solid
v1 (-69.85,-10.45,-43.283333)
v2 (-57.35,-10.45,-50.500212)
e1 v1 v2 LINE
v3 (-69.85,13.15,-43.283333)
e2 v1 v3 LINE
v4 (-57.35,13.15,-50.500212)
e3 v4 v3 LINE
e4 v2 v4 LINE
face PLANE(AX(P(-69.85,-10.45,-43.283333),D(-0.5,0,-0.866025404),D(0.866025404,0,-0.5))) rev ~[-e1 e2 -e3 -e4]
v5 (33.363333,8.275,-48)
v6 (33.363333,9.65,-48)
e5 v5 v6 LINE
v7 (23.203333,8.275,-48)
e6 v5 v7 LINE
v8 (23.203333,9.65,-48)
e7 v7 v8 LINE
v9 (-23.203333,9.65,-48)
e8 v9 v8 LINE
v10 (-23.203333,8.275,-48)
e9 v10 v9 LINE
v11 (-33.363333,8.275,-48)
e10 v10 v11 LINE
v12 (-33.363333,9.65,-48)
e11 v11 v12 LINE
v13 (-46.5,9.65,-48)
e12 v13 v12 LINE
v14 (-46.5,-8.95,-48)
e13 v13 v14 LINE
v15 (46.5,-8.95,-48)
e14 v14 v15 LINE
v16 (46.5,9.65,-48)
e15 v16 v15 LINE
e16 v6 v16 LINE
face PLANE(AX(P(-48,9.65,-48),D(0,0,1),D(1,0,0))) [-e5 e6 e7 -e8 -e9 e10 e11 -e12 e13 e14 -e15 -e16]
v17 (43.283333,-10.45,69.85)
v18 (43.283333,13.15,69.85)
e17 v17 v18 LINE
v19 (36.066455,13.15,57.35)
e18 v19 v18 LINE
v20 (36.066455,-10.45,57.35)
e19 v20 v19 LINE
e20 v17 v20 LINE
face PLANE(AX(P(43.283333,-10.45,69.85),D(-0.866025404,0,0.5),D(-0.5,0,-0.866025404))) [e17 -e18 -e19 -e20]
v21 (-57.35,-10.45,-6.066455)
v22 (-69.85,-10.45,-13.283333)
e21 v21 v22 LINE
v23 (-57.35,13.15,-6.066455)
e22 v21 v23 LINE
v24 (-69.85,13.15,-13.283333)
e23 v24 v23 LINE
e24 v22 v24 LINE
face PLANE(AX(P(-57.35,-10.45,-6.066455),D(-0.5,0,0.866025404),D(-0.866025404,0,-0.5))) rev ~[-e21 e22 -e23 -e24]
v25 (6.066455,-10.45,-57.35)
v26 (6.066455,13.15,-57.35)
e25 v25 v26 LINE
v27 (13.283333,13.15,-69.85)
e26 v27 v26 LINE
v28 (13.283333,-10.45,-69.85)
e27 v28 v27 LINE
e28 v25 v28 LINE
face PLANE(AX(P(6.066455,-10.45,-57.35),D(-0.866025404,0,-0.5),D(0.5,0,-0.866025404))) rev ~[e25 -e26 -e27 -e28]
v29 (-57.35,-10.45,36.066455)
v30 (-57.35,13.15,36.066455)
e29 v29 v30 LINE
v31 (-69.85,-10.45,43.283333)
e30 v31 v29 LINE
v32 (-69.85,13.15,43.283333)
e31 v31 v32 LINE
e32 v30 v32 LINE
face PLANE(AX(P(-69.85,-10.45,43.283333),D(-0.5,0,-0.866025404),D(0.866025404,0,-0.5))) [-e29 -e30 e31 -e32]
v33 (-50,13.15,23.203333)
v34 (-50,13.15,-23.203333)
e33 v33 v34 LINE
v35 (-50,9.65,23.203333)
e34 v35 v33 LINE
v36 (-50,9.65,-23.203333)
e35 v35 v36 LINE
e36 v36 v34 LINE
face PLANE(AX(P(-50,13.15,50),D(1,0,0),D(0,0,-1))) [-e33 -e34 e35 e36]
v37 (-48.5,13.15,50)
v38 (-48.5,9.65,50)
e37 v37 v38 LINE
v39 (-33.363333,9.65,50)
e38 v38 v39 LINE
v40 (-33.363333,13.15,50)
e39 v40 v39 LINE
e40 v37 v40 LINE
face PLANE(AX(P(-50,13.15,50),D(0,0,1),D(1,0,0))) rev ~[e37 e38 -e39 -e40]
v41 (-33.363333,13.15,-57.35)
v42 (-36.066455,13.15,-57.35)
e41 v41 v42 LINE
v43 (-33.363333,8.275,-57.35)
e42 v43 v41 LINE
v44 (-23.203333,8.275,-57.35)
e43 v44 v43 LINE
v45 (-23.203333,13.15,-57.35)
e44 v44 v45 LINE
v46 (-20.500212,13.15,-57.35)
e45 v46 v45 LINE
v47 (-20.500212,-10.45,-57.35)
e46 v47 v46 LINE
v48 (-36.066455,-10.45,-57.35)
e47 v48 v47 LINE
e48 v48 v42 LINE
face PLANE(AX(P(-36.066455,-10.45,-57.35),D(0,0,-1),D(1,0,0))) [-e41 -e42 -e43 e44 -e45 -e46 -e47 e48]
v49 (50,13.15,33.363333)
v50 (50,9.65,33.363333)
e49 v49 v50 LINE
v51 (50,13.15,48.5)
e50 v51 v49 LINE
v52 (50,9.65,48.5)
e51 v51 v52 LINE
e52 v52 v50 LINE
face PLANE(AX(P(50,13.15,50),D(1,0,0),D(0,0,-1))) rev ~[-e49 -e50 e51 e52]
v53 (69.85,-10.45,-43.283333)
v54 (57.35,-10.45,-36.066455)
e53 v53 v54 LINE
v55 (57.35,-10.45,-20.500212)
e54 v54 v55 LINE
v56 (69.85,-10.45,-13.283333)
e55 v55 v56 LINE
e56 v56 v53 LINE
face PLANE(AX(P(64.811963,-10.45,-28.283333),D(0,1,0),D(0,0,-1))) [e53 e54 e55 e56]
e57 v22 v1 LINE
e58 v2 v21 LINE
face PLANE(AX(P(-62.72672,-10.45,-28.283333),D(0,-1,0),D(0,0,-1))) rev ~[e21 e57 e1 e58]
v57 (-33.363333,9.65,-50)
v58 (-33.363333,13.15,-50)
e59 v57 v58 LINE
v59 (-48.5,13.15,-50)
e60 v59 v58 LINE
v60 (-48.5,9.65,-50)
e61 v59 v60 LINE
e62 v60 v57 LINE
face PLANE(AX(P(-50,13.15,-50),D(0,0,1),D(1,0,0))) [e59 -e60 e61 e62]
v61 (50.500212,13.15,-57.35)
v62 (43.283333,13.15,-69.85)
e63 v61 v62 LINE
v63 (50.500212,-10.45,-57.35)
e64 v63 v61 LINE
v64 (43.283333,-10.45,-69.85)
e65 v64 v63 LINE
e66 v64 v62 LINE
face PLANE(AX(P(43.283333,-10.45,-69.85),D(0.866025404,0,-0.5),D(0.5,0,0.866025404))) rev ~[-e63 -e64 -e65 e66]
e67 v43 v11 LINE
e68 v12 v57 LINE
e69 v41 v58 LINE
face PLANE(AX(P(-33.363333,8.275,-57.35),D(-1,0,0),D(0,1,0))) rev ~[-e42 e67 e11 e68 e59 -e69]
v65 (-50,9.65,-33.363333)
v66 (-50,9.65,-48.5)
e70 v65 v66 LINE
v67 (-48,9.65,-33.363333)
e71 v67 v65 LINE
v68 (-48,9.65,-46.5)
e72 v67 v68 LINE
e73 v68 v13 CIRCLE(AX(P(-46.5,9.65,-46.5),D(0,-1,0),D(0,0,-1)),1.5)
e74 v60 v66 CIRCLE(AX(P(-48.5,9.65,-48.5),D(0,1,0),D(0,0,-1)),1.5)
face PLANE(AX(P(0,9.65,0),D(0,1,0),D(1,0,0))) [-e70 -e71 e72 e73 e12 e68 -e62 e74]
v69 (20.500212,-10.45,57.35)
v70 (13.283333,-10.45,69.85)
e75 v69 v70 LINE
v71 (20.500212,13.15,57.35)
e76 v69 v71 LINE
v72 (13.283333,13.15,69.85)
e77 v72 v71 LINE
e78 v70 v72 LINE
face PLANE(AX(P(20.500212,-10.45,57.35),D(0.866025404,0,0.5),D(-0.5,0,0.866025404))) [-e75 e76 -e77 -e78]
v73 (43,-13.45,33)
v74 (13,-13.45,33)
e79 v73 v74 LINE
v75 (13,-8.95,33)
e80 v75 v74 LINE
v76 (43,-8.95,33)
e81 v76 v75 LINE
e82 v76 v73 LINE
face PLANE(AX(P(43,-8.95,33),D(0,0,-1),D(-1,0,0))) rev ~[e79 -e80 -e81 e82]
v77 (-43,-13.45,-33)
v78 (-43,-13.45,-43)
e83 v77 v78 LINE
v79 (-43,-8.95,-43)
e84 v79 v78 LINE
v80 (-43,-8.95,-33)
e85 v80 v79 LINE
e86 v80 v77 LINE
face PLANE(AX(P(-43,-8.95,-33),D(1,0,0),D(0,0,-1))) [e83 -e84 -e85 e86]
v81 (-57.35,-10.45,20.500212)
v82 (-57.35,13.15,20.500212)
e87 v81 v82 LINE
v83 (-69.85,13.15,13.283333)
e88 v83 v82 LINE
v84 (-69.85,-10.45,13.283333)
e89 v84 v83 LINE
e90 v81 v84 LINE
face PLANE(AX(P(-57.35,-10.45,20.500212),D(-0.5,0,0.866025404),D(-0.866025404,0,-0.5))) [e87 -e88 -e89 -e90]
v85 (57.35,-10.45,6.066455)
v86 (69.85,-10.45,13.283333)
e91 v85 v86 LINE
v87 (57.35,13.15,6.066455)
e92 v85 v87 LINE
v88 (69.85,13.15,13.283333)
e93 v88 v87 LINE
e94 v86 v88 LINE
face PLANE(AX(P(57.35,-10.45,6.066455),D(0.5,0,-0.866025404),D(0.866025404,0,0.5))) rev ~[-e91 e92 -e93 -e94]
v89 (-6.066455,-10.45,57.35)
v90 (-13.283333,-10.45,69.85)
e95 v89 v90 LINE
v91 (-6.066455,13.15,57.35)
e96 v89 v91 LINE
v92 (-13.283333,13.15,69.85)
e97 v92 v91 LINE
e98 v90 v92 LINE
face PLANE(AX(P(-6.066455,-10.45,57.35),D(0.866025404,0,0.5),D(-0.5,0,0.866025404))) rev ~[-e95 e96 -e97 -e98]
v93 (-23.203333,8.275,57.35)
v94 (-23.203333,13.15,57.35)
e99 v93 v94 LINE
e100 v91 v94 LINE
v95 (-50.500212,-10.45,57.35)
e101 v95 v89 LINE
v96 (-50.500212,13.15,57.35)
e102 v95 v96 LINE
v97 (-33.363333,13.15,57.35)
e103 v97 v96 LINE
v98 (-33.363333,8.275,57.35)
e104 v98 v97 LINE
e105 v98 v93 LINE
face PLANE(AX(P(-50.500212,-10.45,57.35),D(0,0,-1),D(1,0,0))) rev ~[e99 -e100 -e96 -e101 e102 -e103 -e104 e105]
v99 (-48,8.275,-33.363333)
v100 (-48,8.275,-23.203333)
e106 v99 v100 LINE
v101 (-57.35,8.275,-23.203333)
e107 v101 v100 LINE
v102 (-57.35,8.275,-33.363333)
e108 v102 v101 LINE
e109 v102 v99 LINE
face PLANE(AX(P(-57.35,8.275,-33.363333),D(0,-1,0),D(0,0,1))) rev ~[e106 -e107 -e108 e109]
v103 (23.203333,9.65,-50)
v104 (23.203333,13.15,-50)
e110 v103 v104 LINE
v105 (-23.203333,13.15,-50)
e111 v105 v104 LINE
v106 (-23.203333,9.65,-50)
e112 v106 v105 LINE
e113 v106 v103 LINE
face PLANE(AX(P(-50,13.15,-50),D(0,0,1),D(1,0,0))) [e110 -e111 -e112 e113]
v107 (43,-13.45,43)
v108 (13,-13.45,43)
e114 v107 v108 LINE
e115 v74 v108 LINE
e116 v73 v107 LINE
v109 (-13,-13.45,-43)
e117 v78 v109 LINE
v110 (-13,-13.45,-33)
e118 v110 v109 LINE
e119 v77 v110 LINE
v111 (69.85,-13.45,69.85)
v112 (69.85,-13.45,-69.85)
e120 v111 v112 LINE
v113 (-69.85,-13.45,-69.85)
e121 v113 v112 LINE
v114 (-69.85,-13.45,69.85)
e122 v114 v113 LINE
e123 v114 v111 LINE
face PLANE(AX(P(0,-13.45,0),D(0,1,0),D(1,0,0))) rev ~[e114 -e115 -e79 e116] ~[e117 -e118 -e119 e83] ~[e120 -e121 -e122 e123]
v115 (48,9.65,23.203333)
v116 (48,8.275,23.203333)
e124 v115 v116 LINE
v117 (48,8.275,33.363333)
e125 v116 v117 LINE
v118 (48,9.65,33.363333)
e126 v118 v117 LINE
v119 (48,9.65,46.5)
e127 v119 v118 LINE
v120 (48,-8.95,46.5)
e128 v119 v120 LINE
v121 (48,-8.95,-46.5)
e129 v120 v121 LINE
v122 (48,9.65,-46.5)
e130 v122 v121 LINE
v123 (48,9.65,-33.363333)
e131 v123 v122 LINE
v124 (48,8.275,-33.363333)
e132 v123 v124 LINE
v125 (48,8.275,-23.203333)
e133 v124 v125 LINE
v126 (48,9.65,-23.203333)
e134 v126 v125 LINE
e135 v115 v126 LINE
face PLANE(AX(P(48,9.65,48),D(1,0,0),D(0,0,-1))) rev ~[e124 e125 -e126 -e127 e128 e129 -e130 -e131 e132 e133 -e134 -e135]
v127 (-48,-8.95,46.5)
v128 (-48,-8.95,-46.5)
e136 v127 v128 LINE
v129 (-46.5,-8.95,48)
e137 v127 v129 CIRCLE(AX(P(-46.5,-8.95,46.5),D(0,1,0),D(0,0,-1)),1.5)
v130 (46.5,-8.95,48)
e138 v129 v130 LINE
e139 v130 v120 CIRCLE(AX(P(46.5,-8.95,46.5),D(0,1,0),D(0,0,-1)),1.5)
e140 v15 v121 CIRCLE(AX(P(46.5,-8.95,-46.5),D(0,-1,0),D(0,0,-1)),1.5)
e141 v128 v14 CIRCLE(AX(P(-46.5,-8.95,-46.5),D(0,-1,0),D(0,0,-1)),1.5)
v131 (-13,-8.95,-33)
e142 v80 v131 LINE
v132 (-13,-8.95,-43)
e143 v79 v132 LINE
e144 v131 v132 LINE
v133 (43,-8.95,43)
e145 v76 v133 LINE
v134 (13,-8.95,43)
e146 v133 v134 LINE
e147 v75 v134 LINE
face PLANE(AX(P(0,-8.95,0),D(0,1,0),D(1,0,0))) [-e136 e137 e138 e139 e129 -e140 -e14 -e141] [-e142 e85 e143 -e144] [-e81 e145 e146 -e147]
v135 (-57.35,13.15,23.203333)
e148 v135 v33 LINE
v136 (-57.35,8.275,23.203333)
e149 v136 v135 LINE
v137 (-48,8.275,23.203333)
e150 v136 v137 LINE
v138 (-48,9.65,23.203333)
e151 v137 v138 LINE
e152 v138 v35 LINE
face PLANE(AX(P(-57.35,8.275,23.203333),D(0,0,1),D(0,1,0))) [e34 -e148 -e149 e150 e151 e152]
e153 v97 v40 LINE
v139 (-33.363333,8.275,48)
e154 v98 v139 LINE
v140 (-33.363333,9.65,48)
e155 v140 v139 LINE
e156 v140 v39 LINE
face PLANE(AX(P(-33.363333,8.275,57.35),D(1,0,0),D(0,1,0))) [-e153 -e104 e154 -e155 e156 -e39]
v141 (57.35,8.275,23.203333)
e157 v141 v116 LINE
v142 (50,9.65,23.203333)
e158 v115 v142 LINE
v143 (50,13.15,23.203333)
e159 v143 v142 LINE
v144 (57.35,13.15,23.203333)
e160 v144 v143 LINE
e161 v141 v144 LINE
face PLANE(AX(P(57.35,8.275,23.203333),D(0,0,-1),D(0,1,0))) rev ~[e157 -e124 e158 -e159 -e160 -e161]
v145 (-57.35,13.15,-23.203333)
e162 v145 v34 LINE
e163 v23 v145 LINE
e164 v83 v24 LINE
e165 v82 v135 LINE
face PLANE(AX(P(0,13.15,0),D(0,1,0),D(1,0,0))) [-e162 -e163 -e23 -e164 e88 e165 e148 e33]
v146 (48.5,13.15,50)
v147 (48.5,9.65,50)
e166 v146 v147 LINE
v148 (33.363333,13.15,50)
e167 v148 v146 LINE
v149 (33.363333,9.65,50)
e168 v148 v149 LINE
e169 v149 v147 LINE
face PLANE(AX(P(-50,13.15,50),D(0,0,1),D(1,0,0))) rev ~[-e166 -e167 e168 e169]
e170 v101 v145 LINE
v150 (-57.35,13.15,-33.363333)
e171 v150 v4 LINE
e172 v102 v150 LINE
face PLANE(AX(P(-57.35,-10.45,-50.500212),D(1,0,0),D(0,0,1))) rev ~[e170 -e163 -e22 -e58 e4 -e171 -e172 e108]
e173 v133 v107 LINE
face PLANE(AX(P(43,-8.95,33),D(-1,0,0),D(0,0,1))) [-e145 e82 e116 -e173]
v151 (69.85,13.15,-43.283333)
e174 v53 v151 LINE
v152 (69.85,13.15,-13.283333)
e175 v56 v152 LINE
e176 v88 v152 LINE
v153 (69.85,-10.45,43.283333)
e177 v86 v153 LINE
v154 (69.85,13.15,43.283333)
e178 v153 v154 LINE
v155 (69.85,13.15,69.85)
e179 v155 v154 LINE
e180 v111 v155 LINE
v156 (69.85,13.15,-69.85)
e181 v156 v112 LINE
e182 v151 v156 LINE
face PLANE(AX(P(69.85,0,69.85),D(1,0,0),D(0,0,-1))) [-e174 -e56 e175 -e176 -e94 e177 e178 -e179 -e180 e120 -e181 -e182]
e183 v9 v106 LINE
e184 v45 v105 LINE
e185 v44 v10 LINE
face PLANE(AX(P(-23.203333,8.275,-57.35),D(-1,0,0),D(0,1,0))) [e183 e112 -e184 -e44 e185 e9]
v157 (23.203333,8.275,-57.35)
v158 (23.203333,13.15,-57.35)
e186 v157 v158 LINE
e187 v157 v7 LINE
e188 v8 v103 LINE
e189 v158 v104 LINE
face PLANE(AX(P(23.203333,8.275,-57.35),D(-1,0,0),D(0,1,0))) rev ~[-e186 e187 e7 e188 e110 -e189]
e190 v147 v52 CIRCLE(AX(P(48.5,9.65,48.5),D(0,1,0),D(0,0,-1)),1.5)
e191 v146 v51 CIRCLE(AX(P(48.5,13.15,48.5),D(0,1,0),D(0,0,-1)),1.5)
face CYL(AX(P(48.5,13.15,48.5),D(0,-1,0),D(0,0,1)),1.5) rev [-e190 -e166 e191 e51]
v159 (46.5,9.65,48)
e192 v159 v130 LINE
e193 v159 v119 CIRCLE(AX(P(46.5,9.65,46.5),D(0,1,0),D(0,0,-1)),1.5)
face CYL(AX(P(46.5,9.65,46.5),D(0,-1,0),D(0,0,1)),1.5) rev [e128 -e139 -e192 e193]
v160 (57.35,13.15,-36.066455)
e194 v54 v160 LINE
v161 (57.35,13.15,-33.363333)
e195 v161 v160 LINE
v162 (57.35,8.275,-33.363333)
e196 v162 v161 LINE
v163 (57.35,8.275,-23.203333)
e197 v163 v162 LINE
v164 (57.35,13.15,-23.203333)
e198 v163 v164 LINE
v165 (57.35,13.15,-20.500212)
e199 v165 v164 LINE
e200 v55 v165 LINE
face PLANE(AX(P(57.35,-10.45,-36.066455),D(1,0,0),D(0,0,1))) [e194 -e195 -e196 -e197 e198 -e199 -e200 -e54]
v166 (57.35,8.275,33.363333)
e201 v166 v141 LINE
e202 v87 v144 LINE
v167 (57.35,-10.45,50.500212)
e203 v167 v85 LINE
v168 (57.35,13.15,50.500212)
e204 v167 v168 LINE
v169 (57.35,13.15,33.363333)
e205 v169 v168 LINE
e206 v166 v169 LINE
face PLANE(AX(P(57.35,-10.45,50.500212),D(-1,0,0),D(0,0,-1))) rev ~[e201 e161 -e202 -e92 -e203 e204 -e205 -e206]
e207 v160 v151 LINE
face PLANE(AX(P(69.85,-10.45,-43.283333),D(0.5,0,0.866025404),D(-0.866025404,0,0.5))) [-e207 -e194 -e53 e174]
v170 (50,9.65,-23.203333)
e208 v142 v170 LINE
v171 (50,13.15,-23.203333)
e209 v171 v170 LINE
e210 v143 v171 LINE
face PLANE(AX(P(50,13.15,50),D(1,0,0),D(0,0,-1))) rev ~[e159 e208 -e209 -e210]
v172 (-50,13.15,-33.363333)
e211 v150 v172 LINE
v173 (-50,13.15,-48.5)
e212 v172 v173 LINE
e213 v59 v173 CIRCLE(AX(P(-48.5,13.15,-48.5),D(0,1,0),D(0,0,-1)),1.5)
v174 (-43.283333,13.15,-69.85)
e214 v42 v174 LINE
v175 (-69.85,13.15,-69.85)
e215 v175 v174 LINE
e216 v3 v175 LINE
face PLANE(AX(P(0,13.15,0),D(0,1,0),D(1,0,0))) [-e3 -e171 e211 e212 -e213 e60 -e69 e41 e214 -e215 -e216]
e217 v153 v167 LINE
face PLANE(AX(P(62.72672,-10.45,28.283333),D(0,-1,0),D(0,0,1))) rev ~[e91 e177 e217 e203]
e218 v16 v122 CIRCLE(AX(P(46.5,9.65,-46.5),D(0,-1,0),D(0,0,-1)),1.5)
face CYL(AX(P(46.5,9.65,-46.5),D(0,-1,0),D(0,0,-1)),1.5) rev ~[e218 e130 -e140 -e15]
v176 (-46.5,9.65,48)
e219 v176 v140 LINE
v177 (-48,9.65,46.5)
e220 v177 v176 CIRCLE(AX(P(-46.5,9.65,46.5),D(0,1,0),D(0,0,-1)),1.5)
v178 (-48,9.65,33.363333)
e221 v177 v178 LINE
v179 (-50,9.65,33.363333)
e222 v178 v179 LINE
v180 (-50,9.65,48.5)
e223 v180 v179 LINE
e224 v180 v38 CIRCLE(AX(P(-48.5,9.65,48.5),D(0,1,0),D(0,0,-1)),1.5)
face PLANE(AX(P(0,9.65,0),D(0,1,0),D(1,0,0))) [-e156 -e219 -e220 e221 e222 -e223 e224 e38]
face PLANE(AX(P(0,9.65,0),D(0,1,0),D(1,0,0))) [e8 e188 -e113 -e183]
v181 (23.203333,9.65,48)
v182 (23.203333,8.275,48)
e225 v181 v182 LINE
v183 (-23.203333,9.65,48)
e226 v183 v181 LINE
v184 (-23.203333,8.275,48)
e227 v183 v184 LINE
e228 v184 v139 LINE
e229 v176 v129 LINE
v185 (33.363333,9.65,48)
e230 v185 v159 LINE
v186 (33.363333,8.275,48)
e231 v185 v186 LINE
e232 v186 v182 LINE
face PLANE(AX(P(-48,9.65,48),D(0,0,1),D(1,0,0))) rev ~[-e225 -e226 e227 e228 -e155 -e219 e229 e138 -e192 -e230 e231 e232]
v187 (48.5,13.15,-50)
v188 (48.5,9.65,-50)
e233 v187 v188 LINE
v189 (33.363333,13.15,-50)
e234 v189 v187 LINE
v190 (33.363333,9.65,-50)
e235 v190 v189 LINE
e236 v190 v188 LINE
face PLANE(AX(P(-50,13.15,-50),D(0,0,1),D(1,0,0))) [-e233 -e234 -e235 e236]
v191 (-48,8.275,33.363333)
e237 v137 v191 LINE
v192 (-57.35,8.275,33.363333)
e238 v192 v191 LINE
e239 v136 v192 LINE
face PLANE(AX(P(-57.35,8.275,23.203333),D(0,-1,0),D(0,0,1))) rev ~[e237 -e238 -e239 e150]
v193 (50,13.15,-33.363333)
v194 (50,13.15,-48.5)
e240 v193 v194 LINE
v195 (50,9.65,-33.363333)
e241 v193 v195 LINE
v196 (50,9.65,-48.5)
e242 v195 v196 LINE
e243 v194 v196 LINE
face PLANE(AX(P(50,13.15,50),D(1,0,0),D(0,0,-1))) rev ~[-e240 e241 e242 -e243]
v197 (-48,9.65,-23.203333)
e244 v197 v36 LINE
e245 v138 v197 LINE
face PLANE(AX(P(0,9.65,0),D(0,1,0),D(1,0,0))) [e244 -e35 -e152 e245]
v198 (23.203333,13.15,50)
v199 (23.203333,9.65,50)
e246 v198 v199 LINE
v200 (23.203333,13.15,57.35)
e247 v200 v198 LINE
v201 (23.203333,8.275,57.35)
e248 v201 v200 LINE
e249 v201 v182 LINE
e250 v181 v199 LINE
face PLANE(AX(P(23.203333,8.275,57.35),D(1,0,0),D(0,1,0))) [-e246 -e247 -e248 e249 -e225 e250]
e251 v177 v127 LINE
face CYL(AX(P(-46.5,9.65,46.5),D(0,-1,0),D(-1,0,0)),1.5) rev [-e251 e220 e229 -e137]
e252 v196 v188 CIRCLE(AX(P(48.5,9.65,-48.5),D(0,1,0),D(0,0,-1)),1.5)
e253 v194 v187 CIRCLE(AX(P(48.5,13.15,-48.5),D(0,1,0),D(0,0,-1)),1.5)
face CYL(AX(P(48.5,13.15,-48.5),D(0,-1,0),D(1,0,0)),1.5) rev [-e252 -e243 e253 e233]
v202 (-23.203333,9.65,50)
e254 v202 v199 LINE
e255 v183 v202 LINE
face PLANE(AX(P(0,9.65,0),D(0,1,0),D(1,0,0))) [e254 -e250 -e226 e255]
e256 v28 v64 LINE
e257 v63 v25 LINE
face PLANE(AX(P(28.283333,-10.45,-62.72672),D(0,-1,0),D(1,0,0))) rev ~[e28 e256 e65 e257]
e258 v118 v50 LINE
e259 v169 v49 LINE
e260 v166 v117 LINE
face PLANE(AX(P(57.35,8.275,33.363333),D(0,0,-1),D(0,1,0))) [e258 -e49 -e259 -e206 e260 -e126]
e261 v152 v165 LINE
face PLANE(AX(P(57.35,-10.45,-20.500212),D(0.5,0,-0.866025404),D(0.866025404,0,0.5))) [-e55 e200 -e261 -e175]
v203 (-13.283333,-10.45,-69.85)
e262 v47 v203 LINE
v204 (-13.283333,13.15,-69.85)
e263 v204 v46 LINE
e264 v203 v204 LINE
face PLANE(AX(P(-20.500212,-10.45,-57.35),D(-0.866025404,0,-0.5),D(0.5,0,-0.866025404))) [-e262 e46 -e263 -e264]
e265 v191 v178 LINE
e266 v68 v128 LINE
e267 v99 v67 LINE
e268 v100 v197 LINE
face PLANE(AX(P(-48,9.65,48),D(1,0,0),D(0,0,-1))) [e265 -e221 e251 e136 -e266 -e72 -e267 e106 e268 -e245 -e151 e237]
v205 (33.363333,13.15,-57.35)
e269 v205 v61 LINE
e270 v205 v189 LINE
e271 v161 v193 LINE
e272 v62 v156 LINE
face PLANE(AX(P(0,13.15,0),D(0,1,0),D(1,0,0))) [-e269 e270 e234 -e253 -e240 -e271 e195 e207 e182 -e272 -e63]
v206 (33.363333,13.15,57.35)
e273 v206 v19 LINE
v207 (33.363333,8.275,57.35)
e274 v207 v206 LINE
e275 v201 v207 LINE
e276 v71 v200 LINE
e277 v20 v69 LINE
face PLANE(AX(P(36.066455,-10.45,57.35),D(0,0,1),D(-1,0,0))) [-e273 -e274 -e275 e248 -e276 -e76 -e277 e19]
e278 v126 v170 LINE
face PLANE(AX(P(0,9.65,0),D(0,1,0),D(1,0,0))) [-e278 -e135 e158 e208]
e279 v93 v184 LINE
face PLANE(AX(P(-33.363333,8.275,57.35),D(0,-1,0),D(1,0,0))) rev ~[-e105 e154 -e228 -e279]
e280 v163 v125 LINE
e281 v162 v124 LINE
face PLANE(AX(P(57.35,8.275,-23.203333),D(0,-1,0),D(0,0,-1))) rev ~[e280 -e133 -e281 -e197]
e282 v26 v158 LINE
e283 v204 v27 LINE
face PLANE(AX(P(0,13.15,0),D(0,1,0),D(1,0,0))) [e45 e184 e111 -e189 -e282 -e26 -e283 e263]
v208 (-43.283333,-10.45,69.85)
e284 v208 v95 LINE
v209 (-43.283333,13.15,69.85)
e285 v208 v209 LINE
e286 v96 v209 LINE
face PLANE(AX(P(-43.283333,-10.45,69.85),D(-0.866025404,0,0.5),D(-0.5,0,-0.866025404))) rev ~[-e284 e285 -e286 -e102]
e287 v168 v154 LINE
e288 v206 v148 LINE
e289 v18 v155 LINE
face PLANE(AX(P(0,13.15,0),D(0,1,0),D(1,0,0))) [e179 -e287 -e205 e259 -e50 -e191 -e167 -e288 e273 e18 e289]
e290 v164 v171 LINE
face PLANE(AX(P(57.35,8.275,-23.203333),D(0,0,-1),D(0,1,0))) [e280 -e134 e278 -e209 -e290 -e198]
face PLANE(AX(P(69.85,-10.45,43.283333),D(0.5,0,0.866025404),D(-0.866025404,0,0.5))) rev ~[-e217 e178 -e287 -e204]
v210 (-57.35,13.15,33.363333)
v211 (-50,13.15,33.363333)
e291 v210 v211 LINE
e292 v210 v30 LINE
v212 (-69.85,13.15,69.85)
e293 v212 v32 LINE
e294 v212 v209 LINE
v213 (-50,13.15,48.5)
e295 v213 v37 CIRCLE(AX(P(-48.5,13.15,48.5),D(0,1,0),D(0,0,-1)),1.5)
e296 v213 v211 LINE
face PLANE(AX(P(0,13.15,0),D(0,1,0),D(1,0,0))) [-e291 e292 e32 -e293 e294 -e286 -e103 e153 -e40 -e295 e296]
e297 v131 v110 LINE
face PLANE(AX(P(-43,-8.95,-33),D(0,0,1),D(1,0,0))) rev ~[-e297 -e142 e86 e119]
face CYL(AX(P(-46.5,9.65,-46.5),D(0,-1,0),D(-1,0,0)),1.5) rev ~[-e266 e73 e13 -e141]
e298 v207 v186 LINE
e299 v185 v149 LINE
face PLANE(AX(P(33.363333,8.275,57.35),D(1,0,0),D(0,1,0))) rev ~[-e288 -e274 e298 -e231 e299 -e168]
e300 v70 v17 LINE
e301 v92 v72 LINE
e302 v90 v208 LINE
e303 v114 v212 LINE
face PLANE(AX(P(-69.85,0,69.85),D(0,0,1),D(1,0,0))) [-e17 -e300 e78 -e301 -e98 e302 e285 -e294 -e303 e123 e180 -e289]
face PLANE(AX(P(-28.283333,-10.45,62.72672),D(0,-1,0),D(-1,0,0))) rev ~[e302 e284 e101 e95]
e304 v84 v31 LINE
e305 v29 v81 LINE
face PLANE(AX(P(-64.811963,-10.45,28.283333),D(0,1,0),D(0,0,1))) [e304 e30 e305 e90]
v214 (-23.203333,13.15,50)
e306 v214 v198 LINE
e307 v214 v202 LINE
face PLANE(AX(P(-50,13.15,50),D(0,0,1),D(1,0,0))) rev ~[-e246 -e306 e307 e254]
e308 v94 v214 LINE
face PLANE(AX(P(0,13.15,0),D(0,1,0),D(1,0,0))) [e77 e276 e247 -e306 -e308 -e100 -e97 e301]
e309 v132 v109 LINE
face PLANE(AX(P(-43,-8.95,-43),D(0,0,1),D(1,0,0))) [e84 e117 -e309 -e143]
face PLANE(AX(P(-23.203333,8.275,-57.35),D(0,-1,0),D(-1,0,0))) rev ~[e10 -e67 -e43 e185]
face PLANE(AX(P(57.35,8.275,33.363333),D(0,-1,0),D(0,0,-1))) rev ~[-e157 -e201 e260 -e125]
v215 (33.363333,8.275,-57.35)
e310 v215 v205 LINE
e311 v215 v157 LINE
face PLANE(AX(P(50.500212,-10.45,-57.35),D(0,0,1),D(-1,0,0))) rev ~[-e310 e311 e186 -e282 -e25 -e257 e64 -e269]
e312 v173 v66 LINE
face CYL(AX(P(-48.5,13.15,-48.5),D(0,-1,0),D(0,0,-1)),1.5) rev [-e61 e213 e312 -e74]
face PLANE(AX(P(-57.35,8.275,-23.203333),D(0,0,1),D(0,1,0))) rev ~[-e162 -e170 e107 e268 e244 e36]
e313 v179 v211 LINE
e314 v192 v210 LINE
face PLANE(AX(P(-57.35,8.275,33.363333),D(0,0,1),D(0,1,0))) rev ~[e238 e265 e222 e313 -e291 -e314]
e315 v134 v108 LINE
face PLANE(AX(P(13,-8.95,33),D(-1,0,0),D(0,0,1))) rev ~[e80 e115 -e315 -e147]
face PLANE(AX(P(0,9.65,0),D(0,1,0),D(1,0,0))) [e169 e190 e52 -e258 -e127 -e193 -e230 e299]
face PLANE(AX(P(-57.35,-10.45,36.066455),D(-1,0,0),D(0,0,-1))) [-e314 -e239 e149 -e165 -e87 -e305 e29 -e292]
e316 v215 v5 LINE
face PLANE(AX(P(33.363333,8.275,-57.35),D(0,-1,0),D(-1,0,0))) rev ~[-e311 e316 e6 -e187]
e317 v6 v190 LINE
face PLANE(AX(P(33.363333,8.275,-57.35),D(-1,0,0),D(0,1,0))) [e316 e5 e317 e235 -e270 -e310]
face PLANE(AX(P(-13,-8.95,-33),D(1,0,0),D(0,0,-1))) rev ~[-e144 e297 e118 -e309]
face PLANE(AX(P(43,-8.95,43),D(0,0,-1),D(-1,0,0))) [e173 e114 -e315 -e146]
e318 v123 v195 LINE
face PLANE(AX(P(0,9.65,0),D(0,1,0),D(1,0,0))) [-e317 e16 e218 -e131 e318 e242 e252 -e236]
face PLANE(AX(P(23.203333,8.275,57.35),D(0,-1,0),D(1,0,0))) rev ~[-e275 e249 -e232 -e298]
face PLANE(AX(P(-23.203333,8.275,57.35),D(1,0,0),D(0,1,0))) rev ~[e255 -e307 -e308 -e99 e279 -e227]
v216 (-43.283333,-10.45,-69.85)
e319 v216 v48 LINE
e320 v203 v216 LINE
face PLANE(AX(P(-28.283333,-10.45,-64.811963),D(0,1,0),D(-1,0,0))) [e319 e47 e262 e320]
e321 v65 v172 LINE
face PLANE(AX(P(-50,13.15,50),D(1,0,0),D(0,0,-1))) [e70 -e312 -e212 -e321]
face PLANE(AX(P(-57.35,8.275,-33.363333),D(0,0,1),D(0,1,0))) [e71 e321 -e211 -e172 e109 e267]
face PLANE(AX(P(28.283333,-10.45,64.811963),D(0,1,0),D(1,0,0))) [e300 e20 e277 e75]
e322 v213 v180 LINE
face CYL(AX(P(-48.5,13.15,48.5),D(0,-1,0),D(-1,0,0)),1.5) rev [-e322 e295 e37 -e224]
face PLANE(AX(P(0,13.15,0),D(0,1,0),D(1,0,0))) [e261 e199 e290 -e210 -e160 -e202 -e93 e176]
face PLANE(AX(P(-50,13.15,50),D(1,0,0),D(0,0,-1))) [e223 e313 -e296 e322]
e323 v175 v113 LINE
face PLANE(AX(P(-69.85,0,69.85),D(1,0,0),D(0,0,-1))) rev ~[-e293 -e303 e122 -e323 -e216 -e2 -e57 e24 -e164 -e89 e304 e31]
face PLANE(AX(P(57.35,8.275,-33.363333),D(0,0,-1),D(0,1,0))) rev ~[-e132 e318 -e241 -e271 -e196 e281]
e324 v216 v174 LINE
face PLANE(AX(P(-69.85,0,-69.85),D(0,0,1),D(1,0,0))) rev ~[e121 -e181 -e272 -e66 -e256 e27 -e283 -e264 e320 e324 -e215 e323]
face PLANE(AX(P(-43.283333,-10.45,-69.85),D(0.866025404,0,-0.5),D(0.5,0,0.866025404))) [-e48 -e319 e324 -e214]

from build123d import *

# Parameters (mm, degrees)
SKETCH1_W           = 139.7
SKETCH1_H           = 139.7
BOSS_EXTRUDE1_DEPTH = 13.45
SKETCH2_W           = 139.7
SKETCH2_H           = 139.7
CUT_EXTRUDE1_DEPTH  = 0.3
CUT_EXTRUDE2_START  = -23.6
CUT_EXTRUDE2_DEPTH  = 126.901539578
SKETCH18_W          = 10.16
SKETCH18_H          = 4.875
CUT_EXTRUDE6_DEPTH  = 20
CIRPATTERN1_COUNT   = 4
SKETCH19_W          = 100
SKETCH19_H          = 100
CUT_EXTRUDE8_DEPTH  = 3.5
SKETCH20_W          = 96
SKETCH20_H          = 96
CUT_EXTRUDE9_DEPTH  = 18.6
SKETCH21_W          = 30
SKETCH21_H          = 10
CUT_EXTRUDE10_DEPTH = 102.224774635
FILLET2_R           = 1.5
CIRPATTERN2_COUNT   = 2


with BuildPart() as part:
    # Sketch1 → Boss-Extrude1 (new, symmetric)
    with BuildSketch(Plane(origin=(0, 0, 0), x_dir=(1, 0, 0), z_dir=(0, 1, 0))):
        Rectangle(SKETCH1_W, SKETCH1_H)
    extrude(amount=BOSS_EXTRUDE1_DEPTH, both=True)

    # Sketch2 → Cut-Extrude1 (cut)
    with BuildSketch(Plane(origin=(0, 13.45, 0), x_dir=(1, 0, 0), z_dir=(0, 1, 0))):
        Rectangle(SKETCH2_W, SKETCH2_H)
    extrude(amount=-CUT_EXTRUDE1_DEPTH, mode=Mode.SUBTRACT)

    # Sketch4 → Cut-Extrude2 (cut)
    with BuildSketch(Plane(origin=(0, 13.15, 0), x_dir=(1, 0, 0), z_dir=(0, 1, 0)).offset(CUT_EXTRUDE2_START)):
        Polygon((-43.283333333, -69.85), (-50.500211698, -57.35), (-6.066454968, -57.35), (-13.283333333, -69.85), align=None)
        Polygon((43.283333333, -69.85), (36.066454968, -57.35), (20.500211698, -57.35), (13.283333333, -69.85), align=None)
    cut_extrude2 = extrude(amount=CUT_EXTRUDE2_DEPTH, mode=Mode.SUBTRACT)

    # Sketch18 → Cut-Extrude6 (cut)
    with BuildSketch(Plane.XY.offset(57.35)):
        with Locations((28.283333333, 10.7125)):
            Rectangle(SKETCH18_W, SKETCH18_H)
        with Locations((-28.283333333, 10.7125)):
            Rectangle(SKETCH18_W, SKETCH18_H)
    cut_extrude6 = extrude(amount=-CUT_EXTRUDE6_DEPTH, mode=Mode.SUBTRACT)

    # CirPattern1: Cut-Extrude2, Cut-Extrude6 ×4 about axis
    cirpattern1_axis = Axis((0, 0, 0), (0, 1, 0))
    add([cut_extrude2.rotate(cirpattern1_axis, i * 360 / CIRPATTERN1_COUNT) for i in range(1, CIRPATTERN1_COUNT)], mode=Mode.SUBTRACT)
    add([cut_extrude6.rotate(cirpattern1_axis, i * 360 / CIRPATTERN1_COUNT) for i in range(1, CIRPATTERN1_COUNT)], mode=Mode.SUBTRACT)

    # Sketch19 → Cut-Extrude8 (cut)
    with BuildSketch(Plane(origin=(0, 13.15, 0), x_dir=(1, 0, 0), z_dir=(0, 1, 0))):
        Rectangle(SKETCH19_W, SKETCH19_H)
    extrude(amount=-CUT_EXTRUDE8_DEPTH, mode=Mode.SUBTRACT)

    # Sketch20 → Cut-Extrude9 (cut)
    with BuildSketch(Plane(origin=(0, 9.65, 0), x_dir=(1, 0, 0), z_dir=(0, 1, 0))):
        Rectangle(SKETCH20_W, SKETCH20_H)
    extrude(amount=-CUT_EXTRUDE9_DEPTH, mode=Mode.SUBTRACT)

    # Sketch21 → Cut-Extrude10 (cut, through all)
    with BuildSketch(Plane(origin=(0, -8.95, 0), x_dir=(1, 0, 0), z_dir=(0, 1, 0))):
        with Locations((-28, 38)):
            Rectangle(SKETCH21_W, SKETCH21_H)
    cut_extrude10 = extrude(amount=-CUT_EXTRUDE10_DEPTH, mode=Mode.SUBTRACT)

    # Fillet2
    fillet2_edges = [part.edges().sort_by_distance(p)[0] for p in [
        (50, 11.4, 50),
        (-50, 11.4, -50),
        (50, 11.4, -50),
        (-50, 11.4, 50),
        (48, 0.35, -48),
        (48, 0.35, 48),
        (-48, 0.35, 48),
        (-48, 0.35, -48),
    ]]
    fillet(fillet2_edges, radius=FILLET2_R)

    # CirPattern2: Cut-Extrude10 ×2 about axis
    cirpattern2_axis = Axis((0, 0, 0), (0, 1, 0))
    for i in range(1, CIRPATTERN2_COUNT):
        add(cut_extrude10.rotate(cirpattern2_axis, i * 360 / CIRPATTERN2_COUNT), mode=Mode.SUBTRACT)


solid = part.part
